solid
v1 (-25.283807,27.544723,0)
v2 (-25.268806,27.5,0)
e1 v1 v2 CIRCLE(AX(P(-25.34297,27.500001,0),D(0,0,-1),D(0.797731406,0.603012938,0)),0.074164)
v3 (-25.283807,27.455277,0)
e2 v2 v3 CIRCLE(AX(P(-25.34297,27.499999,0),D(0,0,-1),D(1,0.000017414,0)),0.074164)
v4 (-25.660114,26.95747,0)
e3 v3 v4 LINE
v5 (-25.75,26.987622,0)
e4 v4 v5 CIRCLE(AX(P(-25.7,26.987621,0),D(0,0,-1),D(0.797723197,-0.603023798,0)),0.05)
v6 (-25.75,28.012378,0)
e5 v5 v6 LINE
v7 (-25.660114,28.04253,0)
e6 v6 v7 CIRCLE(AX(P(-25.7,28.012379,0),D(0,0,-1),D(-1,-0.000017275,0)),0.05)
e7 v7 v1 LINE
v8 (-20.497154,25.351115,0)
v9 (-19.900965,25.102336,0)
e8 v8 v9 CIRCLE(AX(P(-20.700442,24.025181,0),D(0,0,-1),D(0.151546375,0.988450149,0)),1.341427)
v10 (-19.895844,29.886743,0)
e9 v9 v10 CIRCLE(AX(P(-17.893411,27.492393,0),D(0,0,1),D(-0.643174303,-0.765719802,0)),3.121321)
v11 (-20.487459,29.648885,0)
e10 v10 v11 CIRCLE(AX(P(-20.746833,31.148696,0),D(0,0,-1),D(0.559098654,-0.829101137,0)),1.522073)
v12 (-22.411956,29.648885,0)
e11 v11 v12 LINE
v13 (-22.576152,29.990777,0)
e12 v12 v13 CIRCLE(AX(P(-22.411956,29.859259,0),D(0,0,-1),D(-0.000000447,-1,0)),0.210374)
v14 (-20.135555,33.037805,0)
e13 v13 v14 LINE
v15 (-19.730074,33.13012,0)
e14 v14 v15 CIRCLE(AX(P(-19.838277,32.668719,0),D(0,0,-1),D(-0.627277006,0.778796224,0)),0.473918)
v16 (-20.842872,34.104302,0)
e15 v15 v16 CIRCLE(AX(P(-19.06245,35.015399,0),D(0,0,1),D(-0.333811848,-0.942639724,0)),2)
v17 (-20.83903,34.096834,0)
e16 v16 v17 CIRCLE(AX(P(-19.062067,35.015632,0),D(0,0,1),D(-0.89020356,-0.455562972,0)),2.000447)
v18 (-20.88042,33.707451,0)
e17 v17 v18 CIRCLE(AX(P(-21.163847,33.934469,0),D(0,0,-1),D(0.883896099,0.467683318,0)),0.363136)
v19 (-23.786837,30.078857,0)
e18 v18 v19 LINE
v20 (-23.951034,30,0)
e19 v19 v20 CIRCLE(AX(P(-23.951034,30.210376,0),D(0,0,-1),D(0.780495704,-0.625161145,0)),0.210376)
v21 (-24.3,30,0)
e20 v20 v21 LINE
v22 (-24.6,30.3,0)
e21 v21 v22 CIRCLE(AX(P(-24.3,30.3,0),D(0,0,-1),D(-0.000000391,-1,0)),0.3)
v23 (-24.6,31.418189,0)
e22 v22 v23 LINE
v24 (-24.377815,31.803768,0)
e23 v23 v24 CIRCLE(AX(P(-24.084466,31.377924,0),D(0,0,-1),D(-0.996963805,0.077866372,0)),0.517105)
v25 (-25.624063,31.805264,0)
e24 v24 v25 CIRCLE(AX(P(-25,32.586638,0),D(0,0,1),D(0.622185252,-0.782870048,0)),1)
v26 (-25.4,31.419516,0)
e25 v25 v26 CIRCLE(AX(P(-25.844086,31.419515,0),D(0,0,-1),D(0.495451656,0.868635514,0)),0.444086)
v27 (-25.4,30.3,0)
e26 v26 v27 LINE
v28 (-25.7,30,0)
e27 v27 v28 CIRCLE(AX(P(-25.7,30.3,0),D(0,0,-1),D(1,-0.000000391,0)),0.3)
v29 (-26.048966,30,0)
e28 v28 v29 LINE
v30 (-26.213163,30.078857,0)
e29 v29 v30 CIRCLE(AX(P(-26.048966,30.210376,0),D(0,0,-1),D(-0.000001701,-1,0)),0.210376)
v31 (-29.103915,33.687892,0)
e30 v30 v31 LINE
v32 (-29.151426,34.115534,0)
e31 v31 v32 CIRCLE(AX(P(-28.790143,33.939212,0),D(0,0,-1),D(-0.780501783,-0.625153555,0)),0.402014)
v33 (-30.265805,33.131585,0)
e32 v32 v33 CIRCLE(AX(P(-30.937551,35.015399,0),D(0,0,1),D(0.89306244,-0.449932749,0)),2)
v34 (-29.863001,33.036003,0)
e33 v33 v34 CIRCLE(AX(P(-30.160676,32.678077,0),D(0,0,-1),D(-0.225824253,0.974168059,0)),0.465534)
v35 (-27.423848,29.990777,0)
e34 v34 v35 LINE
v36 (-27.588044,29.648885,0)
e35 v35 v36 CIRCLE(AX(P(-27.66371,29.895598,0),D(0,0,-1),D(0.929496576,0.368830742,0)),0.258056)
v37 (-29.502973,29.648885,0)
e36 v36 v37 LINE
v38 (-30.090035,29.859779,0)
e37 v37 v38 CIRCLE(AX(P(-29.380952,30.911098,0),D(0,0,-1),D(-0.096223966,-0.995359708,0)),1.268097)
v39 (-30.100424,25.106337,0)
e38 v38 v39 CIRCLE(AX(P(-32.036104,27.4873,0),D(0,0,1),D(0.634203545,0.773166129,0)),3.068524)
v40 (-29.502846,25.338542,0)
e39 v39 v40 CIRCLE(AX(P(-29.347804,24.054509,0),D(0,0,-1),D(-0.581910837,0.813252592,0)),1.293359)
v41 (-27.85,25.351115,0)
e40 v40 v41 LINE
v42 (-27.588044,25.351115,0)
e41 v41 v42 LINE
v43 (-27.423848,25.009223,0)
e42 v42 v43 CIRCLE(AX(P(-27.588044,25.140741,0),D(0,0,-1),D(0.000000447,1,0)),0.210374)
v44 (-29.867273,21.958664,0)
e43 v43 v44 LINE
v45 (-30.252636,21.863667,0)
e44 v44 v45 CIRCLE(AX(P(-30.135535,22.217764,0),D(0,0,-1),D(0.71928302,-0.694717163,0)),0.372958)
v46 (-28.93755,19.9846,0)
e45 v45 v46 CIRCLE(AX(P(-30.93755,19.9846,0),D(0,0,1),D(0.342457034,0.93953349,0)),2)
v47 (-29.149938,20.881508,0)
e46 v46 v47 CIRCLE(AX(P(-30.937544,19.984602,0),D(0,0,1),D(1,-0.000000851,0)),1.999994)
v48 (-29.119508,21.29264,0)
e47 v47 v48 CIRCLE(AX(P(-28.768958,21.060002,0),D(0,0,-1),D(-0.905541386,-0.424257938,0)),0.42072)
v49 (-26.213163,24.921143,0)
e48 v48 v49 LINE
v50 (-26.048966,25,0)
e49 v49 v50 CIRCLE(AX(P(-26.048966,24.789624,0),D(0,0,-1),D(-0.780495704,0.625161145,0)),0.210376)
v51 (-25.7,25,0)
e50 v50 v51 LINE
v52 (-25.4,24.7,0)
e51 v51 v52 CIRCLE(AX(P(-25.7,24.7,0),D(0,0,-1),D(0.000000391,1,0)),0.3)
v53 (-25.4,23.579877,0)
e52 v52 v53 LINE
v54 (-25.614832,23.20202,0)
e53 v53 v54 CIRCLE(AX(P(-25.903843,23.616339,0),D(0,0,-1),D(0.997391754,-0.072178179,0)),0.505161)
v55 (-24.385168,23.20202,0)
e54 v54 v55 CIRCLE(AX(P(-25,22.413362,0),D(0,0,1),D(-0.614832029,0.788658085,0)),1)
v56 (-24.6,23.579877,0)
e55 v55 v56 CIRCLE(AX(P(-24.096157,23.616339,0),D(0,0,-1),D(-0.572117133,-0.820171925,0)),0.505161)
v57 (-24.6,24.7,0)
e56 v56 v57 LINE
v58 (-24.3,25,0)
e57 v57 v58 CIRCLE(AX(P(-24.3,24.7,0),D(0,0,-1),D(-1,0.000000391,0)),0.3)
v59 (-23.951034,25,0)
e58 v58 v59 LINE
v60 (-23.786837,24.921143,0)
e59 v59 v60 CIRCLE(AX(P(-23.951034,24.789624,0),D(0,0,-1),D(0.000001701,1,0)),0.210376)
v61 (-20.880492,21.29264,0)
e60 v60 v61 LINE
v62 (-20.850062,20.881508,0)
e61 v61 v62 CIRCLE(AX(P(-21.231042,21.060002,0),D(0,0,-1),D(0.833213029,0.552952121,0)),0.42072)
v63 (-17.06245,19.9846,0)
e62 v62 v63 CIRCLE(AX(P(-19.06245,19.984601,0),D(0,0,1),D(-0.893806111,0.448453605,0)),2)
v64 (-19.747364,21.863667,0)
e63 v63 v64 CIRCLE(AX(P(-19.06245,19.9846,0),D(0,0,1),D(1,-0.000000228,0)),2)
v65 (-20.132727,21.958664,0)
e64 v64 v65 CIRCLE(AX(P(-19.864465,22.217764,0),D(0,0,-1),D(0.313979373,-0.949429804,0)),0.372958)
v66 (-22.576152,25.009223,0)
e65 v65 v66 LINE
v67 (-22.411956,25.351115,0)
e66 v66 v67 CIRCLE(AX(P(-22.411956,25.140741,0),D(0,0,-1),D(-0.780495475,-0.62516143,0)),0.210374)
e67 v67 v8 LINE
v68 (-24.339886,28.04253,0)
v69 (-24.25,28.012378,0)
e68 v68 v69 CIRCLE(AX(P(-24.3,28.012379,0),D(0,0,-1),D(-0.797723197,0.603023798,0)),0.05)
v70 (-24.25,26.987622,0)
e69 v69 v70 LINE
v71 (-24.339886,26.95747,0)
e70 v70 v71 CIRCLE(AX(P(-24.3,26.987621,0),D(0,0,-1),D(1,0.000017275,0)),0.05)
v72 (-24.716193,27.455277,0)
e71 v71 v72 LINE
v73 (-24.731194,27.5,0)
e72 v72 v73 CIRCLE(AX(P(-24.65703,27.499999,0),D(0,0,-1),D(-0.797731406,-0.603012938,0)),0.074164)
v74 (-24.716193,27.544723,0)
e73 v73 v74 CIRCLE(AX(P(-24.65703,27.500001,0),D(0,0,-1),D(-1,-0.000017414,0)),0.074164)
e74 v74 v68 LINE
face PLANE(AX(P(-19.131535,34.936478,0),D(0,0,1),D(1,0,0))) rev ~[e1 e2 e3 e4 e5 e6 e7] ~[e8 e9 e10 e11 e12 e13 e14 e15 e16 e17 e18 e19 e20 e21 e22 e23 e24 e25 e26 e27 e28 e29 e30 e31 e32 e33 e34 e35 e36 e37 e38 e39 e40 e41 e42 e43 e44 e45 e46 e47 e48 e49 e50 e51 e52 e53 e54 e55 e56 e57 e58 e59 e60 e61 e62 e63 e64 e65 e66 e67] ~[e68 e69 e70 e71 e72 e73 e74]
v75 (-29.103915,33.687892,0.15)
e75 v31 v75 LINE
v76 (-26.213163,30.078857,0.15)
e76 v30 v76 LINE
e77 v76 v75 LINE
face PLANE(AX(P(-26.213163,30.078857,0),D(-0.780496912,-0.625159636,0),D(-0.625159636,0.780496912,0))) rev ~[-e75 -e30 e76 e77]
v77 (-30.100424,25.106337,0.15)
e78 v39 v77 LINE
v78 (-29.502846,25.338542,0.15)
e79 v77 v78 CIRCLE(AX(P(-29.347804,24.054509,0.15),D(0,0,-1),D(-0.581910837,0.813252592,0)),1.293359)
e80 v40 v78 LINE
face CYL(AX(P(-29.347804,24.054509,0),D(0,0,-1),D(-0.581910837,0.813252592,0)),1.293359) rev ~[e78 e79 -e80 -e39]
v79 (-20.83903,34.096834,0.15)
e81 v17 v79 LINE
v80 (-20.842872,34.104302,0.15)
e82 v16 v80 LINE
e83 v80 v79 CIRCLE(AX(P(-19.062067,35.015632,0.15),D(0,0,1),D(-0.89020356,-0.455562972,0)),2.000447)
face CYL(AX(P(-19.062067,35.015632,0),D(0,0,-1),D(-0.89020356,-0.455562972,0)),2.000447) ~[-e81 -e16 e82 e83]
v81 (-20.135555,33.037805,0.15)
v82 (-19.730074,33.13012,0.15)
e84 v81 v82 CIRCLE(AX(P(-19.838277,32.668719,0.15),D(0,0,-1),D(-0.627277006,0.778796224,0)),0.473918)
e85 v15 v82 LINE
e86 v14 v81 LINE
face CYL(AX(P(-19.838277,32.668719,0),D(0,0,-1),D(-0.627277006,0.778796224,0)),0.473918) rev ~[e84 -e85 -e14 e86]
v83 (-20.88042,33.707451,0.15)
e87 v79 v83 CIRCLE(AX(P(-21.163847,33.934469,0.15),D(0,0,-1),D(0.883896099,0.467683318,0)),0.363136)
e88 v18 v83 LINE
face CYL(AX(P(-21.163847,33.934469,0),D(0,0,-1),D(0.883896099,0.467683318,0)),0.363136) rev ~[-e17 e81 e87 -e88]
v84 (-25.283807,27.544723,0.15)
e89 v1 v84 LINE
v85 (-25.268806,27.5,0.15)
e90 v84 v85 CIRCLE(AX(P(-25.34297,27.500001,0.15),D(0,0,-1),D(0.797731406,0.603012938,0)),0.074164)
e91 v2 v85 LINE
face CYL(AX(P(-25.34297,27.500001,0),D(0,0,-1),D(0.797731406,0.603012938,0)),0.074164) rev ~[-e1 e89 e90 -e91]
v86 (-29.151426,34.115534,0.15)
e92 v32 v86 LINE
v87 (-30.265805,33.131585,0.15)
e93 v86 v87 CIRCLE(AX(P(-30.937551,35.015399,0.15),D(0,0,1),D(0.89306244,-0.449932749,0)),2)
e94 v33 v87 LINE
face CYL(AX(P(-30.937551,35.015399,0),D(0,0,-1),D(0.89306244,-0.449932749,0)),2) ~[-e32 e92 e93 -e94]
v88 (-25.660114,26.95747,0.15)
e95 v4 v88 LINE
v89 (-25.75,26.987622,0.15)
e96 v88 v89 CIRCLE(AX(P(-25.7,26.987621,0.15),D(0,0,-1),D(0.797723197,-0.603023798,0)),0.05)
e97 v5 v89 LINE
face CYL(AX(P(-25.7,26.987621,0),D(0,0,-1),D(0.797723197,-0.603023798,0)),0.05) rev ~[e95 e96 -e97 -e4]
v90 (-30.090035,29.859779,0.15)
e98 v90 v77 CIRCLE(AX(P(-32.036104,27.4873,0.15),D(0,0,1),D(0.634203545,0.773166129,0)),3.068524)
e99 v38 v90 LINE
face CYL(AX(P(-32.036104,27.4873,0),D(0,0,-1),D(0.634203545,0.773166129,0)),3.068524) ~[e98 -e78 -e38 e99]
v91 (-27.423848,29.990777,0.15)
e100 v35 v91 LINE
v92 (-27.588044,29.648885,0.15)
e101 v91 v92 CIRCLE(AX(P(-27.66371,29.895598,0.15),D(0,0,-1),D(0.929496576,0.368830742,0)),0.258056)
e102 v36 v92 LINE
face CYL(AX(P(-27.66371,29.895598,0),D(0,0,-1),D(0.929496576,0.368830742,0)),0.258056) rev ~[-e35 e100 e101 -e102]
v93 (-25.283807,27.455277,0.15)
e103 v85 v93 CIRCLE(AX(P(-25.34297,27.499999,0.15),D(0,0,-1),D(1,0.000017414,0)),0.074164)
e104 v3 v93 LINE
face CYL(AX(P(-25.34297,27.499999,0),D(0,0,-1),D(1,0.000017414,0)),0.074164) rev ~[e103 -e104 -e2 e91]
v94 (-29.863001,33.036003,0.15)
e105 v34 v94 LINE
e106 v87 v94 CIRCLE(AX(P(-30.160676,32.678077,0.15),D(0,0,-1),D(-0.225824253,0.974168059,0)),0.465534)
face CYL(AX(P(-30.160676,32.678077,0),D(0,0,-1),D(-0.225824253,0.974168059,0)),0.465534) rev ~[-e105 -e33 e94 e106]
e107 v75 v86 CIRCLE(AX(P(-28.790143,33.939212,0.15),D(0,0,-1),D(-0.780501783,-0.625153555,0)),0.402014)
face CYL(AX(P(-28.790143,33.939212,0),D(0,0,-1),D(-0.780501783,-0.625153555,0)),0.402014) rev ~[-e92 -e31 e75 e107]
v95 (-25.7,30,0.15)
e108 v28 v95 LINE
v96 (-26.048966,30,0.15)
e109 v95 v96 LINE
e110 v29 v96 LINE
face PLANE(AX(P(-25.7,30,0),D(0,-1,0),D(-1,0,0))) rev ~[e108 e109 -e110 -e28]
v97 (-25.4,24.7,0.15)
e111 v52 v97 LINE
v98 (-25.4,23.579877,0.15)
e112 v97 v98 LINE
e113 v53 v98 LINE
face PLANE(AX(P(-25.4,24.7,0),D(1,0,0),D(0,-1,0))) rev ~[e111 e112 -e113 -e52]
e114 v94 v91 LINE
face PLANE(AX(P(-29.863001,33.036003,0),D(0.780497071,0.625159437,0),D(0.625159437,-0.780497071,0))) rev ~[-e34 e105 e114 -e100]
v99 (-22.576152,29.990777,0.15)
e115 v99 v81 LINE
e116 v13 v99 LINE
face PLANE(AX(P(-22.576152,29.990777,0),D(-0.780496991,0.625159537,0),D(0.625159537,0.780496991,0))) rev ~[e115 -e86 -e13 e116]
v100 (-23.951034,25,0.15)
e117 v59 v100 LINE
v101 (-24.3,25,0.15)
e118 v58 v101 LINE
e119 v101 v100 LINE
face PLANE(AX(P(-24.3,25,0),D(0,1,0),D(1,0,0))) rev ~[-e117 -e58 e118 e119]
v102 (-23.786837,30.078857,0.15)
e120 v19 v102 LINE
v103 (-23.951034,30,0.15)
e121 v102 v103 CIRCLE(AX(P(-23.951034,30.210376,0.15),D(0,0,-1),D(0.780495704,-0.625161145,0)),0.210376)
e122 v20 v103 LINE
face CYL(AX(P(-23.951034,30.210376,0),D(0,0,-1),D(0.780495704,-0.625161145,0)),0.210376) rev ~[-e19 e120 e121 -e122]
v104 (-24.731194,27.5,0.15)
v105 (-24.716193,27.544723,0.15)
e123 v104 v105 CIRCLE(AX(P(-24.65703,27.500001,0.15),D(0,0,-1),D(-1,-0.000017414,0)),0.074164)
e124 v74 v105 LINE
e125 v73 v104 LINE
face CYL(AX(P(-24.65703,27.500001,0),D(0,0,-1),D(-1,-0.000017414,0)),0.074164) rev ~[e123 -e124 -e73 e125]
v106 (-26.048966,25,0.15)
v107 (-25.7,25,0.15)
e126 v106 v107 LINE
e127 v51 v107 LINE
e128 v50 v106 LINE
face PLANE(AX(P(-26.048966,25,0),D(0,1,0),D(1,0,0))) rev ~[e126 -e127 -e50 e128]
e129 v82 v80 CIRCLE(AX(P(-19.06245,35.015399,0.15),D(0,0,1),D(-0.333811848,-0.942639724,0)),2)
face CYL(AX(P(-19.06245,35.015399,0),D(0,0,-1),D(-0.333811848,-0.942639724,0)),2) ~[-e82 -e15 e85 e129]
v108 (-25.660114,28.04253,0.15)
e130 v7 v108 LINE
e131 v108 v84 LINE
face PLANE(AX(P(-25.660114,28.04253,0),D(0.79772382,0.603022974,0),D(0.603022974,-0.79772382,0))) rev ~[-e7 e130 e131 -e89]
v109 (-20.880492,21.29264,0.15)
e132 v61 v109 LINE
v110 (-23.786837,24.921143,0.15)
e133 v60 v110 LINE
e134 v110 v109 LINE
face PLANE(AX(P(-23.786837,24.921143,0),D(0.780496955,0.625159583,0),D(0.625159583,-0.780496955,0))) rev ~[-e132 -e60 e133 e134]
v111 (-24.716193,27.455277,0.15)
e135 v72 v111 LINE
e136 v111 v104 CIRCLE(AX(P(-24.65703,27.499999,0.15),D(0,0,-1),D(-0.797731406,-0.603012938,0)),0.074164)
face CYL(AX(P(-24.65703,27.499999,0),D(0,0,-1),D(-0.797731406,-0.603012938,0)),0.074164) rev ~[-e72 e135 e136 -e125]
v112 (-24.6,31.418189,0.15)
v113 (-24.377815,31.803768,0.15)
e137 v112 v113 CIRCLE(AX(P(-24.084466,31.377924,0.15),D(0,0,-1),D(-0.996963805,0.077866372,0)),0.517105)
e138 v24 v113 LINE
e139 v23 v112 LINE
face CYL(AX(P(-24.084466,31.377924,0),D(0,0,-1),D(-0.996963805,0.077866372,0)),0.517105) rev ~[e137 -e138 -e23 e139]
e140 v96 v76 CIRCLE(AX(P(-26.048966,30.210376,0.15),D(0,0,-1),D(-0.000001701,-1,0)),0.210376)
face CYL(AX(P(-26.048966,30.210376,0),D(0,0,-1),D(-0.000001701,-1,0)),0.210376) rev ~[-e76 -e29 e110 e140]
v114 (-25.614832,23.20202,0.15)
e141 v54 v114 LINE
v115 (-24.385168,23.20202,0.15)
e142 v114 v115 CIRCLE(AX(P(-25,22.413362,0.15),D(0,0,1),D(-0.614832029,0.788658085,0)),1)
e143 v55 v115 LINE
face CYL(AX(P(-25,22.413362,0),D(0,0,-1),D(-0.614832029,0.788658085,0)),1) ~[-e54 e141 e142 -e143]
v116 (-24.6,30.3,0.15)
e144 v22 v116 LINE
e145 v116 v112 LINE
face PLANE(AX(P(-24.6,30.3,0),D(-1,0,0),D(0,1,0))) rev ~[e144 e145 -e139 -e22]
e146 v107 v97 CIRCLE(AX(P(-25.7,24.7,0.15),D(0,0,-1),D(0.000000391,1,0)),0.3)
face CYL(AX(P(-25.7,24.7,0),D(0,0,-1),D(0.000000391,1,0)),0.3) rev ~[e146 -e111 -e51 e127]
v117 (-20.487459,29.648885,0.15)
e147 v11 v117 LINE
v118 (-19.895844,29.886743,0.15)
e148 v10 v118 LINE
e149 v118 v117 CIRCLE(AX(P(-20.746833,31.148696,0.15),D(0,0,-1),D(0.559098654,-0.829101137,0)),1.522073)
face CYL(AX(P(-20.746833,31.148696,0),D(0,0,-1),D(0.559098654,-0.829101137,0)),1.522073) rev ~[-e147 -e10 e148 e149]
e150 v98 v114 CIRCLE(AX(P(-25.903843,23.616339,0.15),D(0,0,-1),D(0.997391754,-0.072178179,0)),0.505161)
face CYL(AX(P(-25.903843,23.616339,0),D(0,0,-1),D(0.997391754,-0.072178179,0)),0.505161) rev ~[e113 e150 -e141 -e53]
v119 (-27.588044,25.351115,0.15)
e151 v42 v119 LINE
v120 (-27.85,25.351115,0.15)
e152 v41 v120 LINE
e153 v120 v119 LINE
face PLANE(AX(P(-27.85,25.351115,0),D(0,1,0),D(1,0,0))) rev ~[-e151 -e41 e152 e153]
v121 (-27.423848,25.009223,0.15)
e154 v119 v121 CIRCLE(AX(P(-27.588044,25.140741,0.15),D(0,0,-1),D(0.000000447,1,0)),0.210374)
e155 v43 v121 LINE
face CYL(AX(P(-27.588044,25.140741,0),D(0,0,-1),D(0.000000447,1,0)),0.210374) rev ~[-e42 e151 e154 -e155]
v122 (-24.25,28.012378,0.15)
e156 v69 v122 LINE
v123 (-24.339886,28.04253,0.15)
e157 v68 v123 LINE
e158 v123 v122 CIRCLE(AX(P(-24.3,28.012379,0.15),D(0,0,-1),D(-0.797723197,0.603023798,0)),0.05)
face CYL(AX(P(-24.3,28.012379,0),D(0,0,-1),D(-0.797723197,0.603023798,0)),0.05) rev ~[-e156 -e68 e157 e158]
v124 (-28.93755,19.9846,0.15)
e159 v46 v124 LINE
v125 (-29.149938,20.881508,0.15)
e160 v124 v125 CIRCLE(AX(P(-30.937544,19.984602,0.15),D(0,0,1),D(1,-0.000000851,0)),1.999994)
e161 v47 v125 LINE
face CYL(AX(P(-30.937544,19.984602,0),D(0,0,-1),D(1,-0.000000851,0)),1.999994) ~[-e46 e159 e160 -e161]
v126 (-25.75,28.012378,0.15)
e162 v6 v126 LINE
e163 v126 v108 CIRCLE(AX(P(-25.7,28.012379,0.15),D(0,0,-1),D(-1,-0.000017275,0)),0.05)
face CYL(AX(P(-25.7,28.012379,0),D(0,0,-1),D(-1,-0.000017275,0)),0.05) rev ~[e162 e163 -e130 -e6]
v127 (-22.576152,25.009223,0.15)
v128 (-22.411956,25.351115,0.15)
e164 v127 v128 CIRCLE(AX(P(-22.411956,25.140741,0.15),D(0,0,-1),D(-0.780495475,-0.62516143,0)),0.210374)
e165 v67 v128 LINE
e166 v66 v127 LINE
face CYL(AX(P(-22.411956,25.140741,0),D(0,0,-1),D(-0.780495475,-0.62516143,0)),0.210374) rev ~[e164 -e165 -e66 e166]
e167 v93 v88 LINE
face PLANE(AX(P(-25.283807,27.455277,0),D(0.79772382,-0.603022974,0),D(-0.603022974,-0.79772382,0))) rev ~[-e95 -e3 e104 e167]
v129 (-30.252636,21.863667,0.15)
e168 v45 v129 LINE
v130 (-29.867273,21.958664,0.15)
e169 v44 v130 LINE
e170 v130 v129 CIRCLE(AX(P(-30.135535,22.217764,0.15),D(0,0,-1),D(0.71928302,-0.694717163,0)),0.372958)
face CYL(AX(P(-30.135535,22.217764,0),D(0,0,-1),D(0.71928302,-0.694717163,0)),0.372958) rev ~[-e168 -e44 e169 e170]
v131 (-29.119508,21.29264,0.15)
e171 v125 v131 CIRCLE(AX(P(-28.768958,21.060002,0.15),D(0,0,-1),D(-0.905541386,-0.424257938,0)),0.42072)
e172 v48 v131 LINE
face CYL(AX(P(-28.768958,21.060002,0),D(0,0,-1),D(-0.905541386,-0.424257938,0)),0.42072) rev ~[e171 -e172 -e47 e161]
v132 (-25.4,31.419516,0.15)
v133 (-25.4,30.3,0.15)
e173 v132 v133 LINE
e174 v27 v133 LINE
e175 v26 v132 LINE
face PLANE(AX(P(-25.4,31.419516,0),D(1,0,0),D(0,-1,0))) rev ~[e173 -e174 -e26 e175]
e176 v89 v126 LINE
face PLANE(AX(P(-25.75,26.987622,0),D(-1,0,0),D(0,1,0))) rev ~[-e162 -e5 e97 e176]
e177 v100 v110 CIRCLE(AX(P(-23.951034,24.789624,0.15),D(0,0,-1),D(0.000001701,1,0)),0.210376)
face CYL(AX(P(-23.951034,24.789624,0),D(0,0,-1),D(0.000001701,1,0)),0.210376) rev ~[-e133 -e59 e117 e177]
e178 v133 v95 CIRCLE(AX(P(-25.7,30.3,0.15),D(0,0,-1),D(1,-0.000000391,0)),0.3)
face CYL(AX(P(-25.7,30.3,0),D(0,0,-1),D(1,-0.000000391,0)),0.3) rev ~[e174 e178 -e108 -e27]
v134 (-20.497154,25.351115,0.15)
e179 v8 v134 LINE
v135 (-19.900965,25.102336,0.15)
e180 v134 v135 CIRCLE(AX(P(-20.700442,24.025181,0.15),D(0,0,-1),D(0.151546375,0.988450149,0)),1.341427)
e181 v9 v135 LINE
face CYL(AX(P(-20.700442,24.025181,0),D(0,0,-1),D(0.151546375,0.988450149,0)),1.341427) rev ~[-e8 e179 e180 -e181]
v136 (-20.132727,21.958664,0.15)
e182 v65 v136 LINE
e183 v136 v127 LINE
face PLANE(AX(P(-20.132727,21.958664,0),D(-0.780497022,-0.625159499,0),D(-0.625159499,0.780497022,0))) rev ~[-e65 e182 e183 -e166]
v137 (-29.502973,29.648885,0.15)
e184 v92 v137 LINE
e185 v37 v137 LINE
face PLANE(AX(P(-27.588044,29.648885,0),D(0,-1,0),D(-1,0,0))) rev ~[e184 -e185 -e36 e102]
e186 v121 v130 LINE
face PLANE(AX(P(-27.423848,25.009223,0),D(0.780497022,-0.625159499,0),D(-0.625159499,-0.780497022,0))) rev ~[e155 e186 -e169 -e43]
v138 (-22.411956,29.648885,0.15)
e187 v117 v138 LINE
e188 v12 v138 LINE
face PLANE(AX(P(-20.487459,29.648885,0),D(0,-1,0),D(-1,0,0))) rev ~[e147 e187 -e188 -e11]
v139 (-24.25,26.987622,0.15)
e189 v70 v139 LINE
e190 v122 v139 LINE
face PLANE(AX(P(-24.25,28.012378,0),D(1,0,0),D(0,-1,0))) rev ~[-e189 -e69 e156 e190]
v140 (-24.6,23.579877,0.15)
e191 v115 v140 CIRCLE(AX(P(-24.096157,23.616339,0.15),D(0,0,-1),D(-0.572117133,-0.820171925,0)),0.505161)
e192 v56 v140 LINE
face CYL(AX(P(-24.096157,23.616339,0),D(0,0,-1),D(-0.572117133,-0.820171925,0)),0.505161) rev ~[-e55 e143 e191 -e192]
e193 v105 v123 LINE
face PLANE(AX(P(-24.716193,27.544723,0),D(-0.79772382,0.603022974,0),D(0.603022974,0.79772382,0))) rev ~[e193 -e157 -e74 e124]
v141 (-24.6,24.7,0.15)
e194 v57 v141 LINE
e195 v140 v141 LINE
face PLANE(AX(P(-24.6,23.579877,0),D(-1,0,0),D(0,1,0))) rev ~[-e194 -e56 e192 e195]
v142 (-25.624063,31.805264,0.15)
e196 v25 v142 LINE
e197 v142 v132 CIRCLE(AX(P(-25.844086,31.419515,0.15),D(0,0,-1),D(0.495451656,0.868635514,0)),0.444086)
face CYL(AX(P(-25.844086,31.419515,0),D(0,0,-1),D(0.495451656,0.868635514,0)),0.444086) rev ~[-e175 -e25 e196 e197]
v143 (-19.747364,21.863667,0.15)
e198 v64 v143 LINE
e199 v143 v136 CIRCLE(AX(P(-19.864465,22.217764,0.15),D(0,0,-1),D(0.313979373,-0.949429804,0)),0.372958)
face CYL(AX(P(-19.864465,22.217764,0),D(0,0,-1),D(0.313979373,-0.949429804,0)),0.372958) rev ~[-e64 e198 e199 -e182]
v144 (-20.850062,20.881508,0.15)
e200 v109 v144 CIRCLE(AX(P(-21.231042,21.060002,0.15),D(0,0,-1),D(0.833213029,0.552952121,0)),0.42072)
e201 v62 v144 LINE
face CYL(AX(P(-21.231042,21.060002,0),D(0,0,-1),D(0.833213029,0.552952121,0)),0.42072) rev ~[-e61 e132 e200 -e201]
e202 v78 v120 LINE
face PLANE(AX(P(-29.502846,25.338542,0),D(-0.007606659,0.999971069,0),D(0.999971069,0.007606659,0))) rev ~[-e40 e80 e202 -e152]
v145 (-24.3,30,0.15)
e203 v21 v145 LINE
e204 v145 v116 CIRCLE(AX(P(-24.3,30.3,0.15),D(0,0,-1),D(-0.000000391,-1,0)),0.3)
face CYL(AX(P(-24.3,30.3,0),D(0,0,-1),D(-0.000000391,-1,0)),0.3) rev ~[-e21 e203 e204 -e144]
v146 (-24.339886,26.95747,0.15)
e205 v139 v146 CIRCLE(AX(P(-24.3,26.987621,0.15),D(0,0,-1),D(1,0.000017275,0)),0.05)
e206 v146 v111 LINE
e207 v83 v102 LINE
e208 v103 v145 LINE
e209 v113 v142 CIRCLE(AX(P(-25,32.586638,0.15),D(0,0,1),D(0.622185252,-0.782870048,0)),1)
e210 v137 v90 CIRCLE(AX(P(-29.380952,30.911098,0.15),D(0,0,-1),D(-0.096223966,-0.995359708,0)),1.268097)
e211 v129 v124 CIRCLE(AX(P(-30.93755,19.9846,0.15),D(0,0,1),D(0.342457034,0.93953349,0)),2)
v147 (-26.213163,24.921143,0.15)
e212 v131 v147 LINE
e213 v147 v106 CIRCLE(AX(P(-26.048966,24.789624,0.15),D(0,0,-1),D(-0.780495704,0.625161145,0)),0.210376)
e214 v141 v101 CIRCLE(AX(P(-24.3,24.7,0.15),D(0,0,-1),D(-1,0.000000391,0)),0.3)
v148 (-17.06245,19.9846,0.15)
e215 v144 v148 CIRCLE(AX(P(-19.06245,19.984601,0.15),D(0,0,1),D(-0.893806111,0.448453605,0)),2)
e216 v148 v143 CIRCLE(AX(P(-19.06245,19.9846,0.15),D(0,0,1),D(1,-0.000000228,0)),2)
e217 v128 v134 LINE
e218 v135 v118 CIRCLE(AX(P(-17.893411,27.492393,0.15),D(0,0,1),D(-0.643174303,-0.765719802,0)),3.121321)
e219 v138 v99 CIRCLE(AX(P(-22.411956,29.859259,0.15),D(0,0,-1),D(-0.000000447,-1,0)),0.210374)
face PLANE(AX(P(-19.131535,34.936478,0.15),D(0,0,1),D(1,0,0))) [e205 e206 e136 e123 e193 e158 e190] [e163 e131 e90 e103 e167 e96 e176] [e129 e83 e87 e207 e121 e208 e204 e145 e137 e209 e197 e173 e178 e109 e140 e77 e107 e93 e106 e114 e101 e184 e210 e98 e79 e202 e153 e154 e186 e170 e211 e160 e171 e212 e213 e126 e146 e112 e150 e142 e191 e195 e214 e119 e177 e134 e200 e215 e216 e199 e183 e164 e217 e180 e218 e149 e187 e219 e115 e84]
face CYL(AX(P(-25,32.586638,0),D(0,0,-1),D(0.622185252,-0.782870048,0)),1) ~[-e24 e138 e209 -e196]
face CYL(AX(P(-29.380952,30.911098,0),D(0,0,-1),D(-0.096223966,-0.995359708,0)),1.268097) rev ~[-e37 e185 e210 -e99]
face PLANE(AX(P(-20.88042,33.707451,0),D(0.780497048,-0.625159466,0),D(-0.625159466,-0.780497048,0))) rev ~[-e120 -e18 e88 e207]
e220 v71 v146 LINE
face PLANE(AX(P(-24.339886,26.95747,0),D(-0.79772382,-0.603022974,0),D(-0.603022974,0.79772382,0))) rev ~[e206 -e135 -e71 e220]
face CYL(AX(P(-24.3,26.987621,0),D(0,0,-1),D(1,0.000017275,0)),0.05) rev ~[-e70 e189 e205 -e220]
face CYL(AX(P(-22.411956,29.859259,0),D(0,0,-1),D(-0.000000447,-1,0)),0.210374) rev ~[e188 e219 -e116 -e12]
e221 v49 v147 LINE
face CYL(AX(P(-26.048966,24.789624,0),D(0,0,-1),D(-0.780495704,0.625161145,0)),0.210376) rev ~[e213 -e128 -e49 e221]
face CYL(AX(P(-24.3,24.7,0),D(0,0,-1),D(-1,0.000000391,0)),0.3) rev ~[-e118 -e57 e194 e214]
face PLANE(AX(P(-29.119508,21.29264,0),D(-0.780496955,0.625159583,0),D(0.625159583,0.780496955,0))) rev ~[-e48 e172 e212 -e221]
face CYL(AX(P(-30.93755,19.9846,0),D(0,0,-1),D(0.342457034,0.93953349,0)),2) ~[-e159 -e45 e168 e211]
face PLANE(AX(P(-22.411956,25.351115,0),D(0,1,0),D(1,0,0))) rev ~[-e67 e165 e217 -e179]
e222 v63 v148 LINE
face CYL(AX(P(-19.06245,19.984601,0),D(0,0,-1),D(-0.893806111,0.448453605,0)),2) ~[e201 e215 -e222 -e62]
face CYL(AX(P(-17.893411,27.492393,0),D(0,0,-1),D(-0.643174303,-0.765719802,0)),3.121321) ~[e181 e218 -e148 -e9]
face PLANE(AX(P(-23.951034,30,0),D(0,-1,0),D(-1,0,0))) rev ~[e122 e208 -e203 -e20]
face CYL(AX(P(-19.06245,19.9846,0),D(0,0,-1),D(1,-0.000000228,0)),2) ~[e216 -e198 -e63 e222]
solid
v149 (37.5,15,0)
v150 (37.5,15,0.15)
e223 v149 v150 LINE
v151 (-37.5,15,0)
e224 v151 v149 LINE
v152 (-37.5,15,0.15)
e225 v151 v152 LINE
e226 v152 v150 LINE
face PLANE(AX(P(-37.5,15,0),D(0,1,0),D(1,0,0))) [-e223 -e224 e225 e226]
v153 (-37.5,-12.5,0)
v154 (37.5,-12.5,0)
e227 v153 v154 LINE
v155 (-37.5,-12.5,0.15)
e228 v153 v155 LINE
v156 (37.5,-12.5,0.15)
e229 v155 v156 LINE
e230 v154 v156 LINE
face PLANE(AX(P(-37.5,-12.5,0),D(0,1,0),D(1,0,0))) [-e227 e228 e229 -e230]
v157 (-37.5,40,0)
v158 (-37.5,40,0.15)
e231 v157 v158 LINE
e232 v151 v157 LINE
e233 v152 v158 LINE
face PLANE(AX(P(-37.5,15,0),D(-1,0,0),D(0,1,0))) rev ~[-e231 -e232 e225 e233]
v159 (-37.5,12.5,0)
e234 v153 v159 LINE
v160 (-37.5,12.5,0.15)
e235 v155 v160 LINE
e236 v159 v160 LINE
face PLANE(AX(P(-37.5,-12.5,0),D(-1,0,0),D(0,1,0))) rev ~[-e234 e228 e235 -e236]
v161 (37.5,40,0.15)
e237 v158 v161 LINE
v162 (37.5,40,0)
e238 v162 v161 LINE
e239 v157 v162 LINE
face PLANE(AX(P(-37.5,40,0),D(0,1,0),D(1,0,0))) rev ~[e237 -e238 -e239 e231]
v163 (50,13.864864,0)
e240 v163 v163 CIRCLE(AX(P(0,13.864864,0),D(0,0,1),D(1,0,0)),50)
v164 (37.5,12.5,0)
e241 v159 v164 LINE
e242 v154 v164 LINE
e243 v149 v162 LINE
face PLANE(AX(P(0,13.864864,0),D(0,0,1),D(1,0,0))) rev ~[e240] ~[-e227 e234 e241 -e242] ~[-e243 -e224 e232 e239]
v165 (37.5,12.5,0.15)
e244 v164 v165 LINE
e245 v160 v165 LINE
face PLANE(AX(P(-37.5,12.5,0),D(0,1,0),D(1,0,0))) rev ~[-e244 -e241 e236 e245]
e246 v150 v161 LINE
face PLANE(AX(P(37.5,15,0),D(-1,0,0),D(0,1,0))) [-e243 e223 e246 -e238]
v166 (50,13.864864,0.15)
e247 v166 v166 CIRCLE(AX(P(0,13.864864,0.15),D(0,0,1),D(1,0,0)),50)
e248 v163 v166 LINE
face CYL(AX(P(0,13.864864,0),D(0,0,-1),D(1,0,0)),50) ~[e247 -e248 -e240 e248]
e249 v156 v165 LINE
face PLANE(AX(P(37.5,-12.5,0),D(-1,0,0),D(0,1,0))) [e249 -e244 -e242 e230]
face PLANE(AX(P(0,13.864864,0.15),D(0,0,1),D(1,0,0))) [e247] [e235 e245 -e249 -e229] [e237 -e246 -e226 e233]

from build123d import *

# Parameters (mm, degrees)
F0_R     = 50
F0_W     = 75
F0_H     = 25
F1_DEPTH = 0.15


with BuildPart() as f1:
    # F0 (on Top) → F1 (new body)
    with BuildSketch(Plane.XY):
        with Locations((0, 13.864864)):
            Circle(F0_R)
        Rectangle(F0_W, F0_H, mode=Mode.SUBTRACT)
        with Locations((0, 27.5)):
            Rectangle(F0_W, F0_H, mode=Mode.SUBTRACT)
        with BuildLine():
            ThreePointArc((-19.730074, 33.13012), (-17.74507, 36.520228), (-20.842872, 34.104302))
            ThreePointArc((-20.842872, 34.104302), (-20.786492, 34.001656), (-20.724202, 33.902485))
            ThreePointArc((-20.724202, 33.902485), (-20.392678, 33.521916), (-19.976437, 33.23646))
            ThreePointArc((-19.976437, 33.23646), (-19.855041, 33.179154), (-19.730074, 33.13012))
        make_face()
        with BuildLine():
            ThreePointArc((-19.900965, 25.102336), (-14.772092, 27.489052), (-19.895844, 29.886743))
            ThreePointArc((-19.895844, 29.886743), (-19.991897, 29.803022), (-20.084453, 29.71545))
            ThreePointArc((-20.084453, 29.71545), (-20.130847, 29.646829), (-20.147154, 29.565618))
            Line((-20.147154, 29.565618), (-20.147154, 25.419169))
            ThreePointArc((-20.147154, 25.419169), (-20.130847, 25.337957), (-20.084453, 25.269336))
            ThreePointArc((-20.084453, 25.269336), (-19.994369, 25.184012), (-19.900965, 25.102336))
        make_face()
        with BuildLine():
            ThreePointArc((-19.747364, 21.863667), (-20.392678, 21.478084), (-20.850062, 20.881508))
            ThreePointArc((-20.850062, 20.881508), (-19.523305, 18.038422), (-17.06245, 19.9846))
            ThreePointArc((-17.06245, 19.9846), (-17.915678, 21.623171), (-19.747364, 21.863667))
        make_face()
        with BuildLine():
            ThreePointArc((-29.914627, 29.70432), (-30.000846, 29.783725), (-30.090035, 29.859779))
            ThreePointArc((-30.090035, 29.859779), (-35.104621, 27.494006), (-30.100424, 25.106337))
            ThreePointArc((-30.100424, 25.106337), (-30.00587, 25.186432), (-29.914627, 25.270279))
            ThreePointArc((-29.914627, 25.270279), (-29.86661, 25.339634), (-29.849699, 25.422276))
            Line((-29.849699, 25.422276), (-29.849699, 29.552324))
            ThreePointArc((-29.849699, 29.552324), (-29.86661, 29.634966), (-29.914627, 29.70432))
        make_face()
        with BuildLine():
            ThreePointArc((-29.151426, 34.115534), (-32.261302, 36.514626), (-30.265805, 33.131585))
            ThreePointArc((-30.265805, 33.131585), (-30.142952, 33.180021), (-30.023563, 33.23646))
            ThreePointArc((-30.023563, 33.23646), (-29.517746, 33.606799), (-29.151426, 34.115534))
        make_face()
        with BuildLine():
            ThreePointArc((-27.15, 29.43851), (-27.222221, 29.746727), (-27.423848, 29.990777))
            ThreePointArc((-27.423848, 29.990777), (-27.43109, 29.783881), (-27.588044, 29.648885))
            Line((-27.588044, 29.648885), (-29.502973, 29.648885))
            ThreePointArc((-29.502973, 29.648885), (-29.809674, 29.717671), (-30.090035, 29.859779))
            ThreePointArc((-30.090035, 29.859779), (-30.000846, 29.783725), (-29.914627, 29.70432))
            ThreePointArc((-29.914627, 29.70432), (-29.86661, 29.634966), (-29.849699, 29.552324))
            Line((-29.849699, 29.552324), (-29.849699, 25.422276))
            ThreePointArc((-29.849699, 25.422276), (-29.86661, 25.339634), (-29.914627, 25.270279))
            ThreePointArc((-29.914627, 25.270279), (-30.00587, 25.186432), (-30.100424, 25.106337))
            ThreePointArc((-30.100424, 25.106337), (-29.816251, 25.260053), (-29.502846, 25.338542))
            Line((-29.502846, 25.338542), (-27.85, 25.351115))
            Line((-27.85, 25.351115), (-27.588044, 25.351115))
            ThreePointArc((-27.588044, 25.351115), (-27.398406, 25.231816), (-27.423848, 25.009223))
            ThreePointArc((-27.423848, 25.009223), (-27.257124, 25.27058), (-27.15, 25.56149))
            Line((-27.15, 25.56149), (-27.15, 29.43851))
        make_face()
        with BuildLine():
            Line((-29.863001, 33.036003), (-27.423848, 29.990777))
            ThreePointArc((-27.423848, 29.990777), (-27.222221, 29.746727), (-27.15, 29.43851))
            Line((-27.15, 29.43851), (-27.15, 25.56149))
            ThreePointArc((-27.15, 25.56149), (-27.257124, 25.27058), (-27.423848, 25.009223))
            Line((-27.423848, 25.009223), (-29.867273, 21.958664))
            ThreePointArc((-29.867273, 21.958664), (-30.046268, 21.855647), (-30.252636, 21.863667))
            ThreePointArc((-30.252636, 21.863667), (-29.607322, 21.478084), (-29.149938, 20.881508))
            ThreePointArc((-29.149938, 20.881508), (-29.188531, 21.091056), (-29.119508, 21.29264))
            Line((-29.119508, 21.29264), (-26.213163, 24.921143))
            ThreePointArc((-26.213163, 24.921143), (-26.140041, 24.979264), (-26.048966, 25))
            Line((-26.048966, 25), (-25.960375, 25))
            ThreePointArc((-25.960375, 25), (-25.811617, 25.061617), (-25.75, 25.210375))
            Line((-25.75, 25.210375), (-25.75, 26.987622))
            Line((-25.75, 26.987622), (-25.75, 28.012378))
            Line((-25.75, 28.012378), (-25.75, 29.789625))
            ThreePointArc((-25.75, 29.789625), (-25.811617, 29.938383), (-25.960375, 30))
            Line((-25.960375, 30), (-26.048966, 30))
            ThreePointArc((-26.048966, 30), (-26.140041, 30.020736), (-26.213163, 30.078857))
            Line((-26.213163, 30.078857), (-29.103915, 33.687892))
            ThreePointArc((-29.103915, 33.687892), (-29.189698, 33.894822), (-29.151426, 34.115534))
            ThreePointArc((-29.151426, 34.115534), (-29.517746, 33.606799), (-30.023563, 33.23646))
            ThreePointArc((-30.023563, 33.23646), (-30.142952, 33.180021), (-30.265805, 33.131585))
            ThreePointArc((-30.265805, 33.131585), (-30.053194, 33.131033), (-29.863001, 33.036003))
        make_face()
        with BuildLine():
            Line((-25.75, 30), (-25.960375, 30))
            ThreePointArc((-25.960375, 30), (-25.811617, 29.938383), (-25.75, 29.789625))
            Line((-25.75, 29.789625), (-25.75, 28.012378))
            ThreePointArc((-25.75, 28.012378), (-25.715901, 28.059783), (-25.660114, 28.04253))
            Line((-25.660114, 28.04253), (-25.283807, 27.544723))
            ThreePointArc((-25.283807, 27.544723), (-25.272656, 27.523586), (-25.268806, 27.5))
            ThreePointArc((-25.268806, 27.5), (-25.272656, 27.476414), (-25.283807, 27.455277))
            Line((-25.283807, 27.455277), (-25.660114, 26.95747))
            ThreePointArc((-25.660114, 26.95747), (-25.715901, 26.940217), (-25.75, 26.987622))
            Line((-25.75, 26.987622), (-25.75, 25.210375))
            ThreePointArc((-25.75, 25.210375), (-25.811617, 25.061617), (-25.960375, 25))
            Line((-25.960375, 25), (-25.75, 25))
            Line((-25.75, 25), (-25.7, 25))
            ThreePointArc((-25.7, 25), (-25.487868, 24.912132), (-25.4, 24.7))
            Line((-25.4, 24.7), (-25.4, 24.505414))
            Line((-25.4, 24.505414), (-25.4, 23.579877))
            ThreePointArc((-25.4, 23.579877), (-25.464698, 23.366661), (-25.614832, 23.20202))
            ThreePointArc((-25.614832, 23.20202), (-25, 21.413362), (-24.385168, 23.20202))
            ThreePointArc((-24.385168, 23.20202), (-24.535302, 23.366661), (-24.6, 23.579877))
            Line((-24.6, 23.579877), (-24.6, 24.7))
            ThreePointArc((-24.6, 24.7), (-24.512132, 24.912132), (-24.3, 25))
            Line((-24.3, 25), (-24.25, 25))
            Line((-24.25, 25), (-24.039625, 25))
            ThreePointArc((-24.039625, 25), (-24.188383, 25.061617), (-24.25, 25.210375))
            Line((-24.25, 25.210375), (-24.25, 26.813685))
            Line((-24.25, 26.813685), (-24.25, 26.987622))
            ThreePointArc((-24.25, 26.987622), (-24.284099, 26.940217), (-24.339886, 26.95747))
            Line((-24.339886, 26.95747), (-24.716193, 27.455277))
            ThreePointArc((-24.716193, 27.455277), (-24.727344, 27.476414), (-24.731194, 27.5))
            ThreePointArc((-24.731194, 27.5), (-24.727344, 27.523586), (-24.716193, 27.544723))
            Line((-24.716193, 27.544723), (-24.339886, 28.04253))
            ThreePointArc((-24.339886, 28.04253), (-24.284099, 28.059783), (-24.25, 28.012378))
            Line((-24.25, 28.012378), (-24.25, 28.186315))
            Line((-24.25, 28.186315), (-24.25, 29.789625))
            ThreePointArc((-24.25, 29.789625), (-24.188383, 29.938383), (-24.039625, 30))
            Line((-24.039625, 30), (-24.25, 30))
            Line((-24.25, 30), (-24.3, 30))
            ThreePointArc((-24.3, 30), (-24.512132, 30.087868), (-24.6, 30.3))
            Line((-24.6, 30.3), (-24.6, 31.418189))
            ThreePointArc((-24.6, 31.418189), (-24.532507, 31.636102), (-24.377815, 31.803768))
            ThreePointArc((-24.377815, 31.803768), (-24.998799, 33.586637), (-25.624063, 31.805264))
            ThreePointArc((-25.624063, 31.805264), (-25.46008, 31.642566), (-25.4, 31.419516))
            Line((-25.4, 31.419516), (-25.4, 30.494586))
            Line((-25.4, 30.494586), (-25.4, 30.3))
            ThreePointArc((-25.4, 30.3), (-25.487868, 30.087868), (-25.7, 30))
            Line((-25.7, 30), (-25.75, 30))
        make_face()
        with BuildLine():
            Line((-23.951034, 30), (-24.039625, 30))
            ThreePointArc((-24.039625, 30), (-24.188383, 29.938383), (-24.25, 29.789625))
            Line((-24.25, 29.789625), (-24.25, 28.186315))
            Line((-24.25, 28.186315), (-24.25, 28.012378))
            Line((-24.25, 28.012378), (-24.25, 27.5))
            Line((-24.25, 27.5), (-24.25, 26.987622))
            Line((-24.25, 26.987622), (-24.25, 26.813685))
            Line((-24.25, 26.813685), (-24.25, 25.210375))
            ThreePointArc((-24.25, 25.210375), (-24.188383, 25.061617), (-24.039625, 25))
            Line((-24.039625, 25), (-23.951034, 25))
            ThreePointArc((-23.951034, 25), (-23.859959, 24.979264), (-23.786837, 24.921143))
            Line((-23.786837, 24.921143), (-20.880492, 21.29264))
            ThreePointArc((-20.880492, 21.29264), (-20.811469, 21.091056), (-20.850062, 20.881508))
            ThreePointArc((-20.850062, 20.881508), (-20.392678, 21.478084), (-19.747364, 21.863667))
            ThreePointArc((-19.747364, 21.863667), (-19.953732, 21.855647), (-20.132727, 21.958664))
            Line((-20.132727, 21.958664), (-22.576152, 25.009223))
            ThreePointArc((-22.576152, 25.009223), (-22.742876, 25.27058), (-22.85, 25.56149))
            Line((-22.85, 25.56149), (-22.85, 29.43851))
            ThreePointArc((-22.85, 29.43851), (-22.777779, 29.746727), (-22.576152, 29.990777))
            Line((-22.576152, 29.990777), (-20.135555, 33.037805))
            ThreePointArc((-20.135555, 33.037805), (-19.943481, 33.130813), (-19.730074, 33.13012))
            ThreePointArc((-19.730074, 33.13012), (-19.855041, 33.179154), (-19.976437, 33.23646))
            ThreePointArc((-19.976437, 33.23646), (-20.392678, 33.521916), (-20.724202, 33.902485))
            ThreePointArc((-20.724202, 33.902485), (-20.786492, 34.001656), (-20.842872, 34.104302))
            ThreePointArc((-20.842872, 34.104302), (-20.802325, 33.900264), (-20.88042, 33.707451))
            Line((-20.88042, 33.707451), (-23.786837, 30.078857))
            ThreePointArc((-23.786837, 30.078857), (-23.859959, 30.020736), (-23.951034, 30))
        make_face()
        with BuildLine():
            ThreePointArc((-22.411956, 29.648885), (-22.601594, 29.768184), (-22.576152, 29.990777))
            ThreePointArc((-22.576152, 29.990777), (-22.777779, 29.746727), (-22.85, 29.43851))
            Line((-22.85, 29.43851), (-22.85, 25.56149))
            ThreePointArc((-22.85, 25.56149), (-22.742876, 25.27058), (-22.576152, 25.009223))
            ThreePointArc((-22.576152, 25.009223), (-22.601594, 25.231816), (-22.411956, 25.351115))
            Line((-22.411956, 25.351115), (-20.497154, 25.351115))
            ThreePointArc((-20.497154, 25.351115), (-20.18386, 25.263151), (-19.900965, 25.102336))
            ThreePointArc((-19.900965, 25.102336), (-19.994369, 25.184012), (-20.084453, 25.269336))
            ThreePointArc((-20.084453, 25.269336), (-20.130847, 25.337957), (-20.147154, 25.419169))
            Line((-20.147154, 25.419169), (-20.147154, 29.565618))
            ThreePointArc((-20.147154, 29.565618), (-20.130847, 29.646829), (-20.084453, 29.71545))
            ThreePointArc((-20.084453, 29.71545), (-19.991897, 29.803022), (-19.895844, 29.886743))
            ThreePointArc((-19.895844, 29.886743), (-20.179056, 29.736486), (-20.487459, 29.648885))
            Line((-20.487459, 29.648885), (-22.15, 29.648885))
            Line((-22.15, 29.648885), (-22.411956, 29.648885))
        make_face()
        with BuildLine():
            ThreePointArc((-29.149938, 20.881508), (-29.607322, 21.478084), (-30.252636, 21.863667))
            ThreePointArc((-30.252636, 21.863667), (-32.576121, 18.837828), (-28.93755, 19.9846))
            ThreePointArc((-28.93755, 19.9846), (-28.991371, 20.445456), (-29.149938, 20.881508))
        make_face()
    extrude(amount=F1_DEPTH)


solid = f1.part
